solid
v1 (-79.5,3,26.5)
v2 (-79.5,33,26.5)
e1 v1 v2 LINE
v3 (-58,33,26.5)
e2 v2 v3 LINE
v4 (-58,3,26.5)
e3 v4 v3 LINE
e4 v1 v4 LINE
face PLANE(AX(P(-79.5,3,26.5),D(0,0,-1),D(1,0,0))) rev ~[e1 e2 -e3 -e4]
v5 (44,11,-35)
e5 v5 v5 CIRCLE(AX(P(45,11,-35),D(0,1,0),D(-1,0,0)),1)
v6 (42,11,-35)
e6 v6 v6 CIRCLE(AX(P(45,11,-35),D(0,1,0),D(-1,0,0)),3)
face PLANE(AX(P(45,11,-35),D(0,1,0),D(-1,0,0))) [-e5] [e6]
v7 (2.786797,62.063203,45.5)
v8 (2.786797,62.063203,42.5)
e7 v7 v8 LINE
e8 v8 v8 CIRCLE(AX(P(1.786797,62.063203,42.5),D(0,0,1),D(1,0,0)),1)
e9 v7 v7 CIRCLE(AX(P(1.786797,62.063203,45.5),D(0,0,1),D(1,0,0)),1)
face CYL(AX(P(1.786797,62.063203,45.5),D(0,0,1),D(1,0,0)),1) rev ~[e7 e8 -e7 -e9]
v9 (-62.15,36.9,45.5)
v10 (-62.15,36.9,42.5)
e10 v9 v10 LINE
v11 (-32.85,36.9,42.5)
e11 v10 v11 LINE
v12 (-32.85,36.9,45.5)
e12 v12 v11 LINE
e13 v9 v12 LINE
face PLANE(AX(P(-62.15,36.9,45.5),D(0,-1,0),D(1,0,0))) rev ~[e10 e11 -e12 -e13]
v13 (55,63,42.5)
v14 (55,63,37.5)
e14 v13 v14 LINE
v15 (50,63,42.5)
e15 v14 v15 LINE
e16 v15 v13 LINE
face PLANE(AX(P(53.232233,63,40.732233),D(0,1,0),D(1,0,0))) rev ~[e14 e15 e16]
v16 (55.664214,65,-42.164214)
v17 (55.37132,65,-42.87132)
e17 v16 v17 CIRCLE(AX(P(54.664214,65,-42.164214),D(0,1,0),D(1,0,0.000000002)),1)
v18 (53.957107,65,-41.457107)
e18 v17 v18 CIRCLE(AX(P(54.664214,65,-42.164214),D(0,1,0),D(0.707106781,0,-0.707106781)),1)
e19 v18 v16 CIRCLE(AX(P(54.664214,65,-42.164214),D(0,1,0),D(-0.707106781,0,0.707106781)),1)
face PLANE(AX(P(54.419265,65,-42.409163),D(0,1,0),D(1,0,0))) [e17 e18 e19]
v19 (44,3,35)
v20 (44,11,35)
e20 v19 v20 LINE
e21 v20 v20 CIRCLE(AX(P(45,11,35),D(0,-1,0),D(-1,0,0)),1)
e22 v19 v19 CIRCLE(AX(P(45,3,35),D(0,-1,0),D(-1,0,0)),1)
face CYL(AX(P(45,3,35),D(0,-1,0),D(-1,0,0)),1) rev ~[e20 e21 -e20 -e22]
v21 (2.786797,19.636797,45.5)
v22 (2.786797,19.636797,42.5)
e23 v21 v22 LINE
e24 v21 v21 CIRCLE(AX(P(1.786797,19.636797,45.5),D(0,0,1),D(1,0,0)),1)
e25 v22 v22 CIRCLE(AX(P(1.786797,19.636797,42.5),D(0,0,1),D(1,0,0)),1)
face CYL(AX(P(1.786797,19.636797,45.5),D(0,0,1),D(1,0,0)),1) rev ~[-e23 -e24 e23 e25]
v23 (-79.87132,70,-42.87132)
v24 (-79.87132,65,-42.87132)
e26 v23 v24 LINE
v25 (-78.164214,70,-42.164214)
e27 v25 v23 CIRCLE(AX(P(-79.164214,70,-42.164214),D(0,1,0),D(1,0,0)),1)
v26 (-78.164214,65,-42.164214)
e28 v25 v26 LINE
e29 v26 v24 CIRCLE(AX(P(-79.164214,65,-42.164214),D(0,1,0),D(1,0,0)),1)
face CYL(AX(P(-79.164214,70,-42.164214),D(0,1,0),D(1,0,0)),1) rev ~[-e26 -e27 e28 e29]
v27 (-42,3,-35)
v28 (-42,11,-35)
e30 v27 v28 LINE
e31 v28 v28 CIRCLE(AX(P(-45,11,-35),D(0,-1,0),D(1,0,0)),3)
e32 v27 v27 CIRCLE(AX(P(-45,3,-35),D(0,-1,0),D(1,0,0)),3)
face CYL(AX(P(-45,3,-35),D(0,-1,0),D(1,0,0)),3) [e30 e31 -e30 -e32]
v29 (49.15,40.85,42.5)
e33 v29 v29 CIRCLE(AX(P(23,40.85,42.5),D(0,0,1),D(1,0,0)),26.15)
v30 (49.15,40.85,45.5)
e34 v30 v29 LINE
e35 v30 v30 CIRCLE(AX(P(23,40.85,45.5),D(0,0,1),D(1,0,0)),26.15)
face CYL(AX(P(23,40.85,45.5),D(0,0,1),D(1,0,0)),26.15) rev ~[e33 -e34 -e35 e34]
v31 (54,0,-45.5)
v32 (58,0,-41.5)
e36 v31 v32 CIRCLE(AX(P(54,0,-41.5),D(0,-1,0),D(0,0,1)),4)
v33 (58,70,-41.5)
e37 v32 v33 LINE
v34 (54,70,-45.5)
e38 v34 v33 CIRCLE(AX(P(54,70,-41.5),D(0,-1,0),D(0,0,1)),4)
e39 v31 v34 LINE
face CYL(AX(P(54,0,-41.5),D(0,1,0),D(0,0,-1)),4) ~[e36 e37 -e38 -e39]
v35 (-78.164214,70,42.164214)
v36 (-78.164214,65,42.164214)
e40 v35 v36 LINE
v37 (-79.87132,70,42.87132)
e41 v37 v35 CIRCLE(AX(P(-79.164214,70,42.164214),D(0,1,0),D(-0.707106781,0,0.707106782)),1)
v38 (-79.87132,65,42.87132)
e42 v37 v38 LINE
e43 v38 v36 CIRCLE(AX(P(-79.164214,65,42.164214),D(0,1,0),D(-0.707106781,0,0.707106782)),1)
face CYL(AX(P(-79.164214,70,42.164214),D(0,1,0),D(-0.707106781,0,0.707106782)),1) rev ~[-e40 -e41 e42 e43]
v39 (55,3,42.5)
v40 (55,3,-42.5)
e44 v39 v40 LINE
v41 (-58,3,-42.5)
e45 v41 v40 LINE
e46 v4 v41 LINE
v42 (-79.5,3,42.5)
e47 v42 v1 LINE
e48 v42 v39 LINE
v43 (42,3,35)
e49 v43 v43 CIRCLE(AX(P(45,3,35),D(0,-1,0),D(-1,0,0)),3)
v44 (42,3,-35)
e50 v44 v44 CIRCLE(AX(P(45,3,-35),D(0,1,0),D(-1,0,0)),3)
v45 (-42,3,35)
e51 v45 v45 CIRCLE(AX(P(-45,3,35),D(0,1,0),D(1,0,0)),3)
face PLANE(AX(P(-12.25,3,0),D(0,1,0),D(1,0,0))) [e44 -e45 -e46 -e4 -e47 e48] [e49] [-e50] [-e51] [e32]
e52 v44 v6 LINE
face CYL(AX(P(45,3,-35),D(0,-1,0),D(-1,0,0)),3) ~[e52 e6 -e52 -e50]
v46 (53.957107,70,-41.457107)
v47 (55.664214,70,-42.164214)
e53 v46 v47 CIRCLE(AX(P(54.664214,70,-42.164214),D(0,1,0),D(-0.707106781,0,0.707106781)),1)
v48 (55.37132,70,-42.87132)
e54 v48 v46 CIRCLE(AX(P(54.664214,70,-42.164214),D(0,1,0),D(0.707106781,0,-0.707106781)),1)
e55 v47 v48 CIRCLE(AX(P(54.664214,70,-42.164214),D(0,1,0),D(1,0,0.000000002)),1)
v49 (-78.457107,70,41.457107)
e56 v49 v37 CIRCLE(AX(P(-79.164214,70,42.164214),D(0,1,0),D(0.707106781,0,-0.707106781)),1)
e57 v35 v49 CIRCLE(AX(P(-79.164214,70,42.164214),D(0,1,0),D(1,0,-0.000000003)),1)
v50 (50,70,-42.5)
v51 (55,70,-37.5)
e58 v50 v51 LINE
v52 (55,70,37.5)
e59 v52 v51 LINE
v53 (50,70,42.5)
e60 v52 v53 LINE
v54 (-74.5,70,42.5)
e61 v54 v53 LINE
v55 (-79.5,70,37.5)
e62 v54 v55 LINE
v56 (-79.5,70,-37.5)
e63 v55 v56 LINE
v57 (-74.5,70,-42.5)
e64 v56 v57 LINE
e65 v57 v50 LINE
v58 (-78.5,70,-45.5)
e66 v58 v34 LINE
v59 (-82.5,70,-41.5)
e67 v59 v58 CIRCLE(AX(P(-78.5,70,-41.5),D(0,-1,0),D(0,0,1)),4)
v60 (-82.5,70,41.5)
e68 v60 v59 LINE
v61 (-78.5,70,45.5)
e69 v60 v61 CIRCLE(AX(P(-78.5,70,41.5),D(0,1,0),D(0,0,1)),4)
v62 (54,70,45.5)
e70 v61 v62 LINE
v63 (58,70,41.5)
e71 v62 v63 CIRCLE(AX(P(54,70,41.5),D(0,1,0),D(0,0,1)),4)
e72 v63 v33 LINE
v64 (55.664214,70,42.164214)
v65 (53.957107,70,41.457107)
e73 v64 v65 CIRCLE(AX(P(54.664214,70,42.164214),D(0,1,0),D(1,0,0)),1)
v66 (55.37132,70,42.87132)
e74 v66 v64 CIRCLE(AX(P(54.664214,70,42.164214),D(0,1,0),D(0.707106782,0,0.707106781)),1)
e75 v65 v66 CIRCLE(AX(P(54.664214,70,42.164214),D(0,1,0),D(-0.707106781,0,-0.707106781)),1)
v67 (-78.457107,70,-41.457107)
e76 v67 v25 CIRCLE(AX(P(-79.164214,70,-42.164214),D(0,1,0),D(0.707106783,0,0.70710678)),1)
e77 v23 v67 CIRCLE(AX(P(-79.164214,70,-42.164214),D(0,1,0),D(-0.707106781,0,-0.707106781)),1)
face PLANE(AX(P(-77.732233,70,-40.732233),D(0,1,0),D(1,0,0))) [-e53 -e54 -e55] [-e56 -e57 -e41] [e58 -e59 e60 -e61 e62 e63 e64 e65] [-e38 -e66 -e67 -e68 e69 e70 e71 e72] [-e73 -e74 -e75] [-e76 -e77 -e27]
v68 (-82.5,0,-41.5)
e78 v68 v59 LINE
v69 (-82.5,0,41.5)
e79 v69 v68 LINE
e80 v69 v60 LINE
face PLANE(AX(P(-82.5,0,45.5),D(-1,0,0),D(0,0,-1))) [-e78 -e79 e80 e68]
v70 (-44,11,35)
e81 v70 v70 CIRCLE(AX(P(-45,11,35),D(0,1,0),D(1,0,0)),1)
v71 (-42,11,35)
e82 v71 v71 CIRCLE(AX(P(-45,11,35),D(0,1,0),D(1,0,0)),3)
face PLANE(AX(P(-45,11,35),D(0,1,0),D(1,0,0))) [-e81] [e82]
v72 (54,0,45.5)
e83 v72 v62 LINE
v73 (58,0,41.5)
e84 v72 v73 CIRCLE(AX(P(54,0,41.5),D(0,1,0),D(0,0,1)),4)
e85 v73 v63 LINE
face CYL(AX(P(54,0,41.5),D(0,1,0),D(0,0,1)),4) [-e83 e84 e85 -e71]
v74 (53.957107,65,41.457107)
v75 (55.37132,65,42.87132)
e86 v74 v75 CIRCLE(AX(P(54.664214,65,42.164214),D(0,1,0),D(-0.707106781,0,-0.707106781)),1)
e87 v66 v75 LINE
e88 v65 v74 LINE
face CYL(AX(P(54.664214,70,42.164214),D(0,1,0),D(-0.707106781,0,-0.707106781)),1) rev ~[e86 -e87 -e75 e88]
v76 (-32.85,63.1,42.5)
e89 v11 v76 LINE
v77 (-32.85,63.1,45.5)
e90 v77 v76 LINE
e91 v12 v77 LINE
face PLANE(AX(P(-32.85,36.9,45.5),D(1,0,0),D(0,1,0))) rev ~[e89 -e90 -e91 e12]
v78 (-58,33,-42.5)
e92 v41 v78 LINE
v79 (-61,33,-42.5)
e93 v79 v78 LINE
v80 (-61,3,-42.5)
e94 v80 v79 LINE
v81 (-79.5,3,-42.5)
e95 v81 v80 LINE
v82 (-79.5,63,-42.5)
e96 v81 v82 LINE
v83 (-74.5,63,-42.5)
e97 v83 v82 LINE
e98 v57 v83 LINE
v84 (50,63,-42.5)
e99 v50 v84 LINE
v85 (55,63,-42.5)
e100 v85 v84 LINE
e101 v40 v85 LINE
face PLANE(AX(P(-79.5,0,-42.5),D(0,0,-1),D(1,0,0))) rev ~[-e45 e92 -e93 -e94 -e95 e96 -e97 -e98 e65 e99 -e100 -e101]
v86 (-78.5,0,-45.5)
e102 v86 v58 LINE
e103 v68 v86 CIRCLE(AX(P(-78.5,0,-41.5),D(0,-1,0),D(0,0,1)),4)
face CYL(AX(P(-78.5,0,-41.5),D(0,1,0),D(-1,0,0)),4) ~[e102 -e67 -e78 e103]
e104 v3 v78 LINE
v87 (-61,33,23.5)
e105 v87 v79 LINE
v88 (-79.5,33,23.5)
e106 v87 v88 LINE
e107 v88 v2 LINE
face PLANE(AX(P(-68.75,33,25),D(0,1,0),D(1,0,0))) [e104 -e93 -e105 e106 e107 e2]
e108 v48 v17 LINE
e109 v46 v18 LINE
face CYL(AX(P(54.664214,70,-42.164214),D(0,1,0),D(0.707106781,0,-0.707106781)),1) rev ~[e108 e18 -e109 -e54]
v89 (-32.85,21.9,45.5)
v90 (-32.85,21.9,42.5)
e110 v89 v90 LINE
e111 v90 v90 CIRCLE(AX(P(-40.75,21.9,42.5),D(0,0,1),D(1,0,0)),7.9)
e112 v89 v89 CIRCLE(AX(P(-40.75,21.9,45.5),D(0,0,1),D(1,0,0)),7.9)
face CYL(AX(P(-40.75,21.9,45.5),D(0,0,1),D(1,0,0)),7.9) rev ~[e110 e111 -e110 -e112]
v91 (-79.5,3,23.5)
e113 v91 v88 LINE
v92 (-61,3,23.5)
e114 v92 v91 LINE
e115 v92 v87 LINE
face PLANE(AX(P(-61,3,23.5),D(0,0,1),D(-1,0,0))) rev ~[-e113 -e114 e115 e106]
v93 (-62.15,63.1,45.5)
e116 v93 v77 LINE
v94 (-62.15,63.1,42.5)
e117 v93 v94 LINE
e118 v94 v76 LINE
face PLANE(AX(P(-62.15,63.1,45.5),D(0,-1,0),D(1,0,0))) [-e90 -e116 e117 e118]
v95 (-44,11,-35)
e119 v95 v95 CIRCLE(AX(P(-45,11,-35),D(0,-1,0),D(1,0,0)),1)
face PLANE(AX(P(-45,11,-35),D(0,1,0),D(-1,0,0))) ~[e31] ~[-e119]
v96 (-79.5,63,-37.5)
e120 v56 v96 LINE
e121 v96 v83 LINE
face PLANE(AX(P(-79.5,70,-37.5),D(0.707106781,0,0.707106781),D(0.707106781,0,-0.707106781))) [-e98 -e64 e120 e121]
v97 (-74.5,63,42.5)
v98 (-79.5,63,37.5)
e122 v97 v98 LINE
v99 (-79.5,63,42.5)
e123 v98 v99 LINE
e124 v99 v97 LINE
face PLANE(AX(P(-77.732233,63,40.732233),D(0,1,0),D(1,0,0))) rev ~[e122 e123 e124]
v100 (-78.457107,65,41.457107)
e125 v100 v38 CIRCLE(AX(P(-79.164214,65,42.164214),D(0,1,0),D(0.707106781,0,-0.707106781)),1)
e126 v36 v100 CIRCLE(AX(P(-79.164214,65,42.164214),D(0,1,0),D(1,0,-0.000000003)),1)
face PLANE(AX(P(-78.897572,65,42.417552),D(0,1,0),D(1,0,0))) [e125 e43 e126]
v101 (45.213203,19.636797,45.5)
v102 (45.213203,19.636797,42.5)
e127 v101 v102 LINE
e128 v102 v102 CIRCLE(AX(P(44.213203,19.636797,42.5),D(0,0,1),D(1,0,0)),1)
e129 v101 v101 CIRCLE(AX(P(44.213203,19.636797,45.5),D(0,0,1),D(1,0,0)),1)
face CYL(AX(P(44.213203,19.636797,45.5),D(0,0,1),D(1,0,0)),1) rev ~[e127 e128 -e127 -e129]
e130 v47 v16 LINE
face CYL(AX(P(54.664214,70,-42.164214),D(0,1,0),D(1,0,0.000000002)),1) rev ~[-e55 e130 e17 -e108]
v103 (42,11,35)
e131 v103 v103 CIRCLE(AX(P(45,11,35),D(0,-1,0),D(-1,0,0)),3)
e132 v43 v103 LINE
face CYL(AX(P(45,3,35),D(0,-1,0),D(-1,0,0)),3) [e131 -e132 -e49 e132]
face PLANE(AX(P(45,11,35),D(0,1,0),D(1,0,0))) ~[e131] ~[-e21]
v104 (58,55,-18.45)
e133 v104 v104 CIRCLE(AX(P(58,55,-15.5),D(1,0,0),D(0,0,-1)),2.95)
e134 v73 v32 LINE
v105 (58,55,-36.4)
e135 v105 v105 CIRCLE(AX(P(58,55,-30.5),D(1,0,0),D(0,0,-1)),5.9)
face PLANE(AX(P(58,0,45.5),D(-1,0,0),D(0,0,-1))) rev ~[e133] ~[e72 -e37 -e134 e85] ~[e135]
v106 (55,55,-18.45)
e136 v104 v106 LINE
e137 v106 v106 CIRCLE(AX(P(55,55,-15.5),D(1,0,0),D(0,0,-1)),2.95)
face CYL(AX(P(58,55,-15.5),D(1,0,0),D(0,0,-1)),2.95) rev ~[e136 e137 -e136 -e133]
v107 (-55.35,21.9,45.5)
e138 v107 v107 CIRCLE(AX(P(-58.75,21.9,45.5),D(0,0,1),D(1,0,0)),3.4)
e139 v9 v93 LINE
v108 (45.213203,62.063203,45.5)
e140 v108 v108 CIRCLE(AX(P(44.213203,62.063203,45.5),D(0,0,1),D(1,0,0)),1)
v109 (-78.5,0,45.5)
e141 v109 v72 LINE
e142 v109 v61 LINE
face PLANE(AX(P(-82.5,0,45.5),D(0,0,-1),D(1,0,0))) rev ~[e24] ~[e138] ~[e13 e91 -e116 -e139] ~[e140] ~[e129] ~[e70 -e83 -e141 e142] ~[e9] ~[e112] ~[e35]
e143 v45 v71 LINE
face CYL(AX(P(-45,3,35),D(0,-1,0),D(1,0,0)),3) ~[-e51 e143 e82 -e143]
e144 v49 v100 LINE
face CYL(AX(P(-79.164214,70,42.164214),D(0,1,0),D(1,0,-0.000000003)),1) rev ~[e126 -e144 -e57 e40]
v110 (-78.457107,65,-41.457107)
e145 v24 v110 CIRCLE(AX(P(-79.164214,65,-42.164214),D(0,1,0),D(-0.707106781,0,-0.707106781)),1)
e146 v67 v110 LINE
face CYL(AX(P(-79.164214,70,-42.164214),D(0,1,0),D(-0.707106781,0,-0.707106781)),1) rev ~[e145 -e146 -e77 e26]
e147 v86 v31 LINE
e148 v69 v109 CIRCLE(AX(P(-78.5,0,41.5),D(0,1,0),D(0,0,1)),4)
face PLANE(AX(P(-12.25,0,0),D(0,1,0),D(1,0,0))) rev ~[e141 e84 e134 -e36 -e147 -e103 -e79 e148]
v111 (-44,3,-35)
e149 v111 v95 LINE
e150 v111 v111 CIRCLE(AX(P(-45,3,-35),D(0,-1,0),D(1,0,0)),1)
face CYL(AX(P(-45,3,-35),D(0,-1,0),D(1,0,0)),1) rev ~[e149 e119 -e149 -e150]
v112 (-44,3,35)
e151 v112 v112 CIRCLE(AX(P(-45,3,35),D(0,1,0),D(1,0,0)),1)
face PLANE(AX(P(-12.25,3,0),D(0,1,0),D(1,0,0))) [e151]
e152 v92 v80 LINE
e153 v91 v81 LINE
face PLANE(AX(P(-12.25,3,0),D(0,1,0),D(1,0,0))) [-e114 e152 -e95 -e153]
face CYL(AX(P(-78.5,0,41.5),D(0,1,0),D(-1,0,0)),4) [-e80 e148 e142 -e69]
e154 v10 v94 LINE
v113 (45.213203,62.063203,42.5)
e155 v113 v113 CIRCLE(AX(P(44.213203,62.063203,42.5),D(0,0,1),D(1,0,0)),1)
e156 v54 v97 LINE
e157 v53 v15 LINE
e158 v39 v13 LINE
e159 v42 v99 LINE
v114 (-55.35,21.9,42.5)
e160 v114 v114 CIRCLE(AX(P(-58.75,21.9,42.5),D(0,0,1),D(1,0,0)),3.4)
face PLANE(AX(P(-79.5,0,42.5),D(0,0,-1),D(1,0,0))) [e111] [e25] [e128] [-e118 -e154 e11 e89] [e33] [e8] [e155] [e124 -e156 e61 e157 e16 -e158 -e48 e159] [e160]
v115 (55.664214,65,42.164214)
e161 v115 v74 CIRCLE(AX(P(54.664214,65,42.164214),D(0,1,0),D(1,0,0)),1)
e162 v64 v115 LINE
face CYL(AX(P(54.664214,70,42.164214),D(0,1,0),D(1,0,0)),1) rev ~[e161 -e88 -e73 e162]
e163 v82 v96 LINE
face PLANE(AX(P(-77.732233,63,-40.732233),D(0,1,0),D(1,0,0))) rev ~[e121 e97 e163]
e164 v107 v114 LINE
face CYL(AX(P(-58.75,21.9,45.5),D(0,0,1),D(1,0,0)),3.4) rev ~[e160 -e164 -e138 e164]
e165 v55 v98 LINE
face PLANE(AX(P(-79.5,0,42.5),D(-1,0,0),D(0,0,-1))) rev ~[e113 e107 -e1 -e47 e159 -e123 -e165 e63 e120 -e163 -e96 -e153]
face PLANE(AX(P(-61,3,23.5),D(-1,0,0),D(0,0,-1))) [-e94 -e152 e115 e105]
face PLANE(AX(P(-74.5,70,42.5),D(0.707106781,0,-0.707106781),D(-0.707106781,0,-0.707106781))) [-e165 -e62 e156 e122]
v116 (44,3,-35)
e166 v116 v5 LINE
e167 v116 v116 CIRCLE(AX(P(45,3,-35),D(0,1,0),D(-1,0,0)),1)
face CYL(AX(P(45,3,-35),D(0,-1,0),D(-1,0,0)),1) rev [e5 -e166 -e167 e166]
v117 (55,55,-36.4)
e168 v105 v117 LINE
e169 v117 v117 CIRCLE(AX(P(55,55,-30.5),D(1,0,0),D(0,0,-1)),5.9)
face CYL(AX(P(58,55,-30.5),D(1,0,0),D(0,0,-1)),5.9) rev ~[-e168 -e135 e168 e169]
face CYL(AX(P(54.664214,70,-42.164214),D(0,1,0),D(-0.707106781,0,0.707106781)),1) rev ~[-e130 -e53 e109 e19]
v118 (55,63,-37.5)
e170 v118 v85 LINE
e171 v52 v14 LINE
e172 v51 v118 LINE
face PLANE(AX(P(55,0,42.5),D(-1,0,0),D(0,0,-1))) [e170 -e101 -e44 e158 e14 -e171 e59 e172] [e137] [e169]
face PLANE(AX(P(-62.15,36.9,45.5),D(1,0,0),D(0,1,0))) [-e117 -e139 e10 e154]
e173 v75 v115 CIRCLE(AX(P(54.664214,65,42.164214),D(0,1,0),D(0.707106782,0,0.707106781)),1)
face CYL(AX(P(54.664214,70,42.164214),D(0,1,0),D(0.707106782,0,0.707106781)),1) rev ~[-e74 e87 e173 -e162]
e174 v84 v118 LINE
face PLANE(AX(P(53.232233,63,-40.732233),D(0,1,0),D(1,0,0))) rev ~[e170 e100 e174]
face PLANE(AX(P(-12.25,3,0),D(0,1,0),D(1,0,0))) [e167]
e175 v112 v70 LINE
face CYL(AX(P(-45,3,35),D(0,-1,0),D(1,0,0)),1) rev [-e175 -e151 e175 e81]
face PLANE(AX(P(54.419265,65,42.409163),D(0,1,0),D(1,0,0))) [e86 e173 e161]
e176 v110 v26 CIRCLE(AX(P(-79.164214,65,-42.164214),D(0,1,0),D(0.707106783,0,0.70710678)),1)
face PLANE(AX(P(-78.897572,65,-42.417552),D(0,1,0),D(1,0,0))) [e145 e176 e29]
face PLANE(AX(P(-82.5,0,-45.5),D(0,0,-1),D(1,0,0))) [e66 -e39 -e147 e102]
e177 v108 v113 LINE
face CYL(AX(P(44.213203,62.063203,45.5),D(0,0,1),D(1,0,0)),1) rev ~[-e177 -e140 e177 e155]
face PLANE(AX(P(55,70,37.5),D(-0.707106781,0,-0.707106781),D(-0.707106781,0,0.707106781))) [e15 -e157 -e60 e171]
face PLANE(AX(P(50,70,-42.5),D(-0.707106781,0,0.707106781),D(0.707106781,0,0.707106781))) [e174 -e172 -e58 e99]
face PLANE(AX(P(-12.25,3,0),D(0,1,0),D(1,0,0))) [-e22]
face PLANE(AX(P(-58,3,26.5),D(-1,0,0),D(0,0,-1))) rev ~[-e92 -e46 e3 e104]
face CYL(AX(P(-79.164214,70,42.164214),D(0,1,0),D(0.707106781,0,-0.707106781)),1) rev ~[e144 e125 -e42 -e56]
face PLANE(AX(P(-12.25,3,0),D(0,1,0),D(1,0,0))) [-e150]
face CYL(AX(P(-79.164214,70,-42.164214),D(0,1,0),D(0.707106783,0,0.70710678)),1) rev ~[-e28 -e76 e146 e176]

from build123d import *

# Parameters (mm, degrees)
SKETCH1_W                 = 134.5
SKETCH1_H                 = 85
BOSS_EXTRUDE1_DEPTH       = 3
SKETCH2_W                 = 140.5
SKETCH2_H                 = 91
SKETCH2_W_2               = 134.5
SKETCH2_H_2               = 85
BOSS_EXTRUDE2_DEPTH       = 70
BOSS_EXTRUDE3_START       = 5
SKETCH3_W                 = 100
SKETCH3_H                 = 80
BOSS_EXTRUDE3_DEPTH       = 5
SKETCH5_W                 = 3
SKETCH5_H                 = 66
BOSS_EXTRUDE5_DEPTH       = 30
SKETCH6_R                 = 3
SKETCH6_R_2               = 1
BOSS_EXTRUDE6_DEPTH       = 10
SKETCH7_W                 = 100
SKETCH7_H                 = 80
CUT_EXTRUDE2_DEPTH        = 10
SKETCH6_2_R               = 3
SKETCH6_2_R_2             = 1
BOSS_EXTRUDE7_DEPTH       = 8
MIRROR4_COPY_1_SKETCH_R   = 3
MIRROR4_COPY_1_SKETCH_R_2 = 1
MIRROR4_COPY_1_DEPTH      = 8
SKETCH9_R                 = 26.15
SKETCH9_W                 = 29.3
SKETCH9_H                 = 26.2
SKETCH9_R_2               = 1
SKETCH9_R_3               = 3.4
SKETCH9_R_4               = 7.9
CUT_EXTRUDE3_DEPTH        = 3
SKETCH10_R                = 2.95
SKETCH10_R_2              = 5.9
CUT_EXTRUDE4_DEPTH        = 3
BOSS_EXTRUDE8_DEPTH       = 7
FILLET1_R                 = 4
CUT_EXTRUDE6_DEPTH        = 5


with BuildPart() as part:
    # Sketch1 → Boss-Extrude1 (new body)
    with BuildSketch(Plane(origin=(0, 0, 0), x_dir=(1, 0, 0), z_dir=(0, 1, 0))):
        with Locations((-12.25, 0)):
            Rectangle(SKETCH1_W, SKETCH1_H)
    extrude(amount=BOSS_EXTRUDE1_DEPTH)

    # Sketch2 → Boss-Extrude2 (add)
    with BuildSketch(Plane(origin=(0, 0, 0), x_dir=(1, 0, 0), z_dir=(0, 1, 0))):
        with Locations((-12.25, 0)):
            Rectangle(SKETCH2_W, SKETCH2_H)
        with Locations((-12.25, 0)):
            Rectangle(SKETCH2_W_2, SKETCH2_H_2, mode=Mode.SUBTRACT)
    extrude(amount=BOSS_EXTRUDE2_DEPTH)

    # Sketch5 → Boss-Extrude5 (add)
    with BuildSketch(Plane(origin=(0, 3, 0), x_dir=(1, 0, 0), z_dir=(0, 1, 0))):
        Polygon((-58, -26.5), (-58, -23.5), (-61, -23.5), (-79.5, -23.5), (-79.5, -26.5), align=None)
        with Locations((-59.5, 9.5)):
            Rectangle(SKETCH5_W, SKETCH5_H)
    extrude(amount=BOSS_EXTRUDE5_DEPTH)



with BuildPart() as body_2:
    # Sketch3 → Boss-Extrude3 (new body)
    with BuildSketch(Plane(origin=(0, 3, 0), x_dir=(1, 0, 0), z_dir=(0, 1, 0)).offset(BOSS_EXTRUDE3_START)):
        Rectangle(SKETCH3_W, SKETCH3_H)
    extrude(amount=BOSS_EXTRUDE3_DEPTH)


with BuildPart() as part_1:
    add(part.part)

    add(body_2.part)  # Boss-Extrude6 merges body 2
    # Sketch6 → Boss-Extrude6 (add)
    with BuildSketch(Plane(origin=(0, 3, 0), x_dir=(1, 0, 0), z_dir=(0, 1, 0))):
        with Locations((-45, -35)):
            Circle(SKETCH6_R)
        with Locations((-45, -35)):
            Circle(SKETCH6_R_2, mode=Mode.SUBTRACT)
    extrude(amount=BOSS_EXTRUDE6_DEPTH)

    # Sketch7 → Cut-Extrude2 (cut)
    with BuildSketch(Plane(origin=(0, 13, 0), x_dir=(1, 0, 0), z_dir=(0, 1, 0))):
        Rectangle(SKETCH7_W, SKETCH7_H)
    extrude(amount=-CUT_EXTRUDE2_DEPTH, mode=Mode.SUBTRACT)

    # Sketch6<2> → Boss-Extrude7 (add)
    with BuildSketch(Plane(origin=(0, 3, 0), x_dir=(1, 0, 0), z_dir=(0, 1, 0))):
        with Locations((-45, -35)):
            Circle(SKETCH6_2_R)
        with Locations((-45, -35)):
            Circle(SKETCH6_2_R_2, mode=Mode.SUBTRACT)
    boss_extrude7 = extrude(amount=BOSS_EXTRUDE7_DEPTH)

    # Mirror3: Boss-Extrude7 across plane
    add(boss_extrude7.mirror(Plane.XY))

    # Mirror4: Boss-Extrude7 across plane
    add(boss_extrude7.mirror(Plane(origin=(0, 0, 0), x_dir=(0, 0, 1), z_dir=(1, 0, 0))))

    # Mirror4 copy 1 sketch → Mirror4 copy 1 (add)
    with BuildSketch(Plane(origin=(0, 3, 0), x_dir=(-1, 0, 0), z_dir=(0, 1, 0))):
        with Locations((-45, -35)):
            Circle(MIRROR4_COPY_1_SKETCH_R)
        with Locations((-45, -35)):
            Circle(MIRROR4_COPY_1_SKETCH_R_2, mode=Mode.SUBTRACT)
    extrude(amount=MIRROR4_COPY_1_DEPTH)

    # Sketch9 → Cut-Extrude3 (cut)
    with BuildSketch(Plane.XY.offset(45.5)):
        with Locations((23, 40.85)):
            Circle(SKETCH9_R)
        with Locations((-47.5, 50)):
            Rectangle(SKETCH9_W, SKETCH9_H)
        with Locations((1.786796564, 62.063203436)):
            Circle(SKETCH9_R_2)
        with Locations((44.213203436, 62.063203436)):
            Circle(SKETCH9_R_2)
        with Locations((44.213203436, 19.636796564)):
            Circle(SKETCH9_R_2)
        with Locations((1.786796564, 19.636796564)):
            Circle(SKETCH9_R_2)
        with Locations((-58.75, 21.9)):
            Circle(SKETCH9_R_3)
        with Locations((-40.75, 21.9)):
            Circle(SKETCH9_R_4)
    extrude(amount=-CUT_EXTRUDE3_DEPTH, mode=Mode.SUBTRACT)

    # Sketch10 → Cut-Extrude4 (cut)
    with BuildSketch(Plane(origin=(58, 0, 0), x_dir=(0, 0, -1), z_dir=(1, 0, 0))):
        with Locations((15.5, 55)):
            Circle(SKETCH10_R)
        with Locations((30.5, 55)):
            Circle(SKETCH10_R_2)
    extrude(amount=-CUT_EXTRUDE4_DEPTH, mode=Mode.SUBTRACT)

    # Sketch11 → Boss-Extrude8 (add)
    with BuildSketch(Plane(origin=(0, 70, 0), x_dir=(1, 0, 0), z_dir=(0, 1, 0))):
        Polygon((-74.5, 42.5), (-79.5, 42.5), (-79.5, 37.5), align=None)
        Polygon((55, 37.5), (55, 42.5), (50, 42.5), align=None)
        Polygon((50, -42.5), (55, -42.5), (55, -37.5), align=None)
        Polygon((-79.5, -37.5), (-79.5, -42.5), (-74.5, -42.5), align=None)
    extrude(amount=-BOSS_EXTRUDE8_DEPTH)

    # Fillet1
    fillet1_edges = [part_1.edges().sort_by_distance(p)[0] for p in [
        (58, 35, 45.5),
        (58, 35, -45.5),
        (-82.5, 35, -45.5),
        (-82.5, 35, 45.5),
    ]]
    fillet(fillet1_edges, radius=FILLET1_R)

    # Sketch13 → Cut-Extrude6 (cut)
    with BuildSketch(Plane(origin=(0, 70, 0), x_dir=(1, 0, 0), z_dir=(0, 1, 0))):
        with BuildLine():
            ThreePointArc((55.371320344, 42.871320344), (53.957106781, 42.871320344), (53.957106781, 41.457106781))
            Line((53.957106781, 41.457106781), (55.371320344, 42.871320344))
        make_face()
        with BuildLine():
            Line((55.371320344, 42.871320344), (53.957106781, 41.457106781))
            ThreePointArc((53.957106781, 41.457106781), (55.046896995, 41.24033403), (55.664213562, 42.164213562))
            ThreePointArc((55.664213562, 42.164213562), (55.588093095, 42.546896995), (55.371320344, 42.871320344))
        make_face()
        with BuildLine():
            ThreePointArc((53.957106781, -41.457106781), (53.957106781, -42.871320344), (55.371320344, -42.871320344))
            Line((55.371320344, -42.871320344), (53.957106781, -41.457106781))
        make_face()
        with BuildLine():
            Line((53.957106781, -41.457106781), (55.371320344, -42.871320344))
            ThreePointArc((55.371320344, -42.871320344), (55.588093095, -42.546896995), (55.664213562, -42.164213562))
            ThreePointArc((55.664213562, -42.164213562), (55.046896995, -41.24033403), (53.957106781, -41.457106781))
        make_face()
        with BuildLine():
            ThreePointArc((-78.164213562, -42.164213562), (-78.24033403, -41.78153013), (-78.457106781, -41.457106781))
            Line((-78.457106781, -41.457106781), (-79.871320344, -42.871320344))
            ThreePointArc((-79.871320344, -42.871320344), (-78.78153013, -43.088093095), (-78.164213562, -42.164213562))
        make_face()
        with BuildLine():
            Line((-79.871320344, -42.871320344), (-78.457106781, -41.457106781))
            ThreePointArc((-78.457106781, -41.457106781), (-79.871320344, -41.457106781), (-79.871320344, -42.871320344))
        make_face()
        with BuildLine():
            ThreePointArc((-78.164213562, 42.164213562), (-78.78153013, 43.088093095), (-79.871320344, 42.871320344))
            Line((-79.871320344, 42.871320344), (-78.457106781, 41.457106781))
            ThreePointArc((-78.457106781, 41.457106781), (-78.24033403, 41.78153013), (-78.164213562, 42.164213562))
        make_face()
        with BuildLine():
            Line((-78.457106781, 41.457106781), (-79.871320344, 42.871320344))
            ThreePointArc((-79.871320344, 42.871320344), (-79.871320344, 41.457106781), (-78.457106781, 41.457106781))
        make_face()
    extrude(amount=-CUT_EXTRUDE6_DEPTH, mode=Mode.SUBTRACT)


solid = part_1.part
